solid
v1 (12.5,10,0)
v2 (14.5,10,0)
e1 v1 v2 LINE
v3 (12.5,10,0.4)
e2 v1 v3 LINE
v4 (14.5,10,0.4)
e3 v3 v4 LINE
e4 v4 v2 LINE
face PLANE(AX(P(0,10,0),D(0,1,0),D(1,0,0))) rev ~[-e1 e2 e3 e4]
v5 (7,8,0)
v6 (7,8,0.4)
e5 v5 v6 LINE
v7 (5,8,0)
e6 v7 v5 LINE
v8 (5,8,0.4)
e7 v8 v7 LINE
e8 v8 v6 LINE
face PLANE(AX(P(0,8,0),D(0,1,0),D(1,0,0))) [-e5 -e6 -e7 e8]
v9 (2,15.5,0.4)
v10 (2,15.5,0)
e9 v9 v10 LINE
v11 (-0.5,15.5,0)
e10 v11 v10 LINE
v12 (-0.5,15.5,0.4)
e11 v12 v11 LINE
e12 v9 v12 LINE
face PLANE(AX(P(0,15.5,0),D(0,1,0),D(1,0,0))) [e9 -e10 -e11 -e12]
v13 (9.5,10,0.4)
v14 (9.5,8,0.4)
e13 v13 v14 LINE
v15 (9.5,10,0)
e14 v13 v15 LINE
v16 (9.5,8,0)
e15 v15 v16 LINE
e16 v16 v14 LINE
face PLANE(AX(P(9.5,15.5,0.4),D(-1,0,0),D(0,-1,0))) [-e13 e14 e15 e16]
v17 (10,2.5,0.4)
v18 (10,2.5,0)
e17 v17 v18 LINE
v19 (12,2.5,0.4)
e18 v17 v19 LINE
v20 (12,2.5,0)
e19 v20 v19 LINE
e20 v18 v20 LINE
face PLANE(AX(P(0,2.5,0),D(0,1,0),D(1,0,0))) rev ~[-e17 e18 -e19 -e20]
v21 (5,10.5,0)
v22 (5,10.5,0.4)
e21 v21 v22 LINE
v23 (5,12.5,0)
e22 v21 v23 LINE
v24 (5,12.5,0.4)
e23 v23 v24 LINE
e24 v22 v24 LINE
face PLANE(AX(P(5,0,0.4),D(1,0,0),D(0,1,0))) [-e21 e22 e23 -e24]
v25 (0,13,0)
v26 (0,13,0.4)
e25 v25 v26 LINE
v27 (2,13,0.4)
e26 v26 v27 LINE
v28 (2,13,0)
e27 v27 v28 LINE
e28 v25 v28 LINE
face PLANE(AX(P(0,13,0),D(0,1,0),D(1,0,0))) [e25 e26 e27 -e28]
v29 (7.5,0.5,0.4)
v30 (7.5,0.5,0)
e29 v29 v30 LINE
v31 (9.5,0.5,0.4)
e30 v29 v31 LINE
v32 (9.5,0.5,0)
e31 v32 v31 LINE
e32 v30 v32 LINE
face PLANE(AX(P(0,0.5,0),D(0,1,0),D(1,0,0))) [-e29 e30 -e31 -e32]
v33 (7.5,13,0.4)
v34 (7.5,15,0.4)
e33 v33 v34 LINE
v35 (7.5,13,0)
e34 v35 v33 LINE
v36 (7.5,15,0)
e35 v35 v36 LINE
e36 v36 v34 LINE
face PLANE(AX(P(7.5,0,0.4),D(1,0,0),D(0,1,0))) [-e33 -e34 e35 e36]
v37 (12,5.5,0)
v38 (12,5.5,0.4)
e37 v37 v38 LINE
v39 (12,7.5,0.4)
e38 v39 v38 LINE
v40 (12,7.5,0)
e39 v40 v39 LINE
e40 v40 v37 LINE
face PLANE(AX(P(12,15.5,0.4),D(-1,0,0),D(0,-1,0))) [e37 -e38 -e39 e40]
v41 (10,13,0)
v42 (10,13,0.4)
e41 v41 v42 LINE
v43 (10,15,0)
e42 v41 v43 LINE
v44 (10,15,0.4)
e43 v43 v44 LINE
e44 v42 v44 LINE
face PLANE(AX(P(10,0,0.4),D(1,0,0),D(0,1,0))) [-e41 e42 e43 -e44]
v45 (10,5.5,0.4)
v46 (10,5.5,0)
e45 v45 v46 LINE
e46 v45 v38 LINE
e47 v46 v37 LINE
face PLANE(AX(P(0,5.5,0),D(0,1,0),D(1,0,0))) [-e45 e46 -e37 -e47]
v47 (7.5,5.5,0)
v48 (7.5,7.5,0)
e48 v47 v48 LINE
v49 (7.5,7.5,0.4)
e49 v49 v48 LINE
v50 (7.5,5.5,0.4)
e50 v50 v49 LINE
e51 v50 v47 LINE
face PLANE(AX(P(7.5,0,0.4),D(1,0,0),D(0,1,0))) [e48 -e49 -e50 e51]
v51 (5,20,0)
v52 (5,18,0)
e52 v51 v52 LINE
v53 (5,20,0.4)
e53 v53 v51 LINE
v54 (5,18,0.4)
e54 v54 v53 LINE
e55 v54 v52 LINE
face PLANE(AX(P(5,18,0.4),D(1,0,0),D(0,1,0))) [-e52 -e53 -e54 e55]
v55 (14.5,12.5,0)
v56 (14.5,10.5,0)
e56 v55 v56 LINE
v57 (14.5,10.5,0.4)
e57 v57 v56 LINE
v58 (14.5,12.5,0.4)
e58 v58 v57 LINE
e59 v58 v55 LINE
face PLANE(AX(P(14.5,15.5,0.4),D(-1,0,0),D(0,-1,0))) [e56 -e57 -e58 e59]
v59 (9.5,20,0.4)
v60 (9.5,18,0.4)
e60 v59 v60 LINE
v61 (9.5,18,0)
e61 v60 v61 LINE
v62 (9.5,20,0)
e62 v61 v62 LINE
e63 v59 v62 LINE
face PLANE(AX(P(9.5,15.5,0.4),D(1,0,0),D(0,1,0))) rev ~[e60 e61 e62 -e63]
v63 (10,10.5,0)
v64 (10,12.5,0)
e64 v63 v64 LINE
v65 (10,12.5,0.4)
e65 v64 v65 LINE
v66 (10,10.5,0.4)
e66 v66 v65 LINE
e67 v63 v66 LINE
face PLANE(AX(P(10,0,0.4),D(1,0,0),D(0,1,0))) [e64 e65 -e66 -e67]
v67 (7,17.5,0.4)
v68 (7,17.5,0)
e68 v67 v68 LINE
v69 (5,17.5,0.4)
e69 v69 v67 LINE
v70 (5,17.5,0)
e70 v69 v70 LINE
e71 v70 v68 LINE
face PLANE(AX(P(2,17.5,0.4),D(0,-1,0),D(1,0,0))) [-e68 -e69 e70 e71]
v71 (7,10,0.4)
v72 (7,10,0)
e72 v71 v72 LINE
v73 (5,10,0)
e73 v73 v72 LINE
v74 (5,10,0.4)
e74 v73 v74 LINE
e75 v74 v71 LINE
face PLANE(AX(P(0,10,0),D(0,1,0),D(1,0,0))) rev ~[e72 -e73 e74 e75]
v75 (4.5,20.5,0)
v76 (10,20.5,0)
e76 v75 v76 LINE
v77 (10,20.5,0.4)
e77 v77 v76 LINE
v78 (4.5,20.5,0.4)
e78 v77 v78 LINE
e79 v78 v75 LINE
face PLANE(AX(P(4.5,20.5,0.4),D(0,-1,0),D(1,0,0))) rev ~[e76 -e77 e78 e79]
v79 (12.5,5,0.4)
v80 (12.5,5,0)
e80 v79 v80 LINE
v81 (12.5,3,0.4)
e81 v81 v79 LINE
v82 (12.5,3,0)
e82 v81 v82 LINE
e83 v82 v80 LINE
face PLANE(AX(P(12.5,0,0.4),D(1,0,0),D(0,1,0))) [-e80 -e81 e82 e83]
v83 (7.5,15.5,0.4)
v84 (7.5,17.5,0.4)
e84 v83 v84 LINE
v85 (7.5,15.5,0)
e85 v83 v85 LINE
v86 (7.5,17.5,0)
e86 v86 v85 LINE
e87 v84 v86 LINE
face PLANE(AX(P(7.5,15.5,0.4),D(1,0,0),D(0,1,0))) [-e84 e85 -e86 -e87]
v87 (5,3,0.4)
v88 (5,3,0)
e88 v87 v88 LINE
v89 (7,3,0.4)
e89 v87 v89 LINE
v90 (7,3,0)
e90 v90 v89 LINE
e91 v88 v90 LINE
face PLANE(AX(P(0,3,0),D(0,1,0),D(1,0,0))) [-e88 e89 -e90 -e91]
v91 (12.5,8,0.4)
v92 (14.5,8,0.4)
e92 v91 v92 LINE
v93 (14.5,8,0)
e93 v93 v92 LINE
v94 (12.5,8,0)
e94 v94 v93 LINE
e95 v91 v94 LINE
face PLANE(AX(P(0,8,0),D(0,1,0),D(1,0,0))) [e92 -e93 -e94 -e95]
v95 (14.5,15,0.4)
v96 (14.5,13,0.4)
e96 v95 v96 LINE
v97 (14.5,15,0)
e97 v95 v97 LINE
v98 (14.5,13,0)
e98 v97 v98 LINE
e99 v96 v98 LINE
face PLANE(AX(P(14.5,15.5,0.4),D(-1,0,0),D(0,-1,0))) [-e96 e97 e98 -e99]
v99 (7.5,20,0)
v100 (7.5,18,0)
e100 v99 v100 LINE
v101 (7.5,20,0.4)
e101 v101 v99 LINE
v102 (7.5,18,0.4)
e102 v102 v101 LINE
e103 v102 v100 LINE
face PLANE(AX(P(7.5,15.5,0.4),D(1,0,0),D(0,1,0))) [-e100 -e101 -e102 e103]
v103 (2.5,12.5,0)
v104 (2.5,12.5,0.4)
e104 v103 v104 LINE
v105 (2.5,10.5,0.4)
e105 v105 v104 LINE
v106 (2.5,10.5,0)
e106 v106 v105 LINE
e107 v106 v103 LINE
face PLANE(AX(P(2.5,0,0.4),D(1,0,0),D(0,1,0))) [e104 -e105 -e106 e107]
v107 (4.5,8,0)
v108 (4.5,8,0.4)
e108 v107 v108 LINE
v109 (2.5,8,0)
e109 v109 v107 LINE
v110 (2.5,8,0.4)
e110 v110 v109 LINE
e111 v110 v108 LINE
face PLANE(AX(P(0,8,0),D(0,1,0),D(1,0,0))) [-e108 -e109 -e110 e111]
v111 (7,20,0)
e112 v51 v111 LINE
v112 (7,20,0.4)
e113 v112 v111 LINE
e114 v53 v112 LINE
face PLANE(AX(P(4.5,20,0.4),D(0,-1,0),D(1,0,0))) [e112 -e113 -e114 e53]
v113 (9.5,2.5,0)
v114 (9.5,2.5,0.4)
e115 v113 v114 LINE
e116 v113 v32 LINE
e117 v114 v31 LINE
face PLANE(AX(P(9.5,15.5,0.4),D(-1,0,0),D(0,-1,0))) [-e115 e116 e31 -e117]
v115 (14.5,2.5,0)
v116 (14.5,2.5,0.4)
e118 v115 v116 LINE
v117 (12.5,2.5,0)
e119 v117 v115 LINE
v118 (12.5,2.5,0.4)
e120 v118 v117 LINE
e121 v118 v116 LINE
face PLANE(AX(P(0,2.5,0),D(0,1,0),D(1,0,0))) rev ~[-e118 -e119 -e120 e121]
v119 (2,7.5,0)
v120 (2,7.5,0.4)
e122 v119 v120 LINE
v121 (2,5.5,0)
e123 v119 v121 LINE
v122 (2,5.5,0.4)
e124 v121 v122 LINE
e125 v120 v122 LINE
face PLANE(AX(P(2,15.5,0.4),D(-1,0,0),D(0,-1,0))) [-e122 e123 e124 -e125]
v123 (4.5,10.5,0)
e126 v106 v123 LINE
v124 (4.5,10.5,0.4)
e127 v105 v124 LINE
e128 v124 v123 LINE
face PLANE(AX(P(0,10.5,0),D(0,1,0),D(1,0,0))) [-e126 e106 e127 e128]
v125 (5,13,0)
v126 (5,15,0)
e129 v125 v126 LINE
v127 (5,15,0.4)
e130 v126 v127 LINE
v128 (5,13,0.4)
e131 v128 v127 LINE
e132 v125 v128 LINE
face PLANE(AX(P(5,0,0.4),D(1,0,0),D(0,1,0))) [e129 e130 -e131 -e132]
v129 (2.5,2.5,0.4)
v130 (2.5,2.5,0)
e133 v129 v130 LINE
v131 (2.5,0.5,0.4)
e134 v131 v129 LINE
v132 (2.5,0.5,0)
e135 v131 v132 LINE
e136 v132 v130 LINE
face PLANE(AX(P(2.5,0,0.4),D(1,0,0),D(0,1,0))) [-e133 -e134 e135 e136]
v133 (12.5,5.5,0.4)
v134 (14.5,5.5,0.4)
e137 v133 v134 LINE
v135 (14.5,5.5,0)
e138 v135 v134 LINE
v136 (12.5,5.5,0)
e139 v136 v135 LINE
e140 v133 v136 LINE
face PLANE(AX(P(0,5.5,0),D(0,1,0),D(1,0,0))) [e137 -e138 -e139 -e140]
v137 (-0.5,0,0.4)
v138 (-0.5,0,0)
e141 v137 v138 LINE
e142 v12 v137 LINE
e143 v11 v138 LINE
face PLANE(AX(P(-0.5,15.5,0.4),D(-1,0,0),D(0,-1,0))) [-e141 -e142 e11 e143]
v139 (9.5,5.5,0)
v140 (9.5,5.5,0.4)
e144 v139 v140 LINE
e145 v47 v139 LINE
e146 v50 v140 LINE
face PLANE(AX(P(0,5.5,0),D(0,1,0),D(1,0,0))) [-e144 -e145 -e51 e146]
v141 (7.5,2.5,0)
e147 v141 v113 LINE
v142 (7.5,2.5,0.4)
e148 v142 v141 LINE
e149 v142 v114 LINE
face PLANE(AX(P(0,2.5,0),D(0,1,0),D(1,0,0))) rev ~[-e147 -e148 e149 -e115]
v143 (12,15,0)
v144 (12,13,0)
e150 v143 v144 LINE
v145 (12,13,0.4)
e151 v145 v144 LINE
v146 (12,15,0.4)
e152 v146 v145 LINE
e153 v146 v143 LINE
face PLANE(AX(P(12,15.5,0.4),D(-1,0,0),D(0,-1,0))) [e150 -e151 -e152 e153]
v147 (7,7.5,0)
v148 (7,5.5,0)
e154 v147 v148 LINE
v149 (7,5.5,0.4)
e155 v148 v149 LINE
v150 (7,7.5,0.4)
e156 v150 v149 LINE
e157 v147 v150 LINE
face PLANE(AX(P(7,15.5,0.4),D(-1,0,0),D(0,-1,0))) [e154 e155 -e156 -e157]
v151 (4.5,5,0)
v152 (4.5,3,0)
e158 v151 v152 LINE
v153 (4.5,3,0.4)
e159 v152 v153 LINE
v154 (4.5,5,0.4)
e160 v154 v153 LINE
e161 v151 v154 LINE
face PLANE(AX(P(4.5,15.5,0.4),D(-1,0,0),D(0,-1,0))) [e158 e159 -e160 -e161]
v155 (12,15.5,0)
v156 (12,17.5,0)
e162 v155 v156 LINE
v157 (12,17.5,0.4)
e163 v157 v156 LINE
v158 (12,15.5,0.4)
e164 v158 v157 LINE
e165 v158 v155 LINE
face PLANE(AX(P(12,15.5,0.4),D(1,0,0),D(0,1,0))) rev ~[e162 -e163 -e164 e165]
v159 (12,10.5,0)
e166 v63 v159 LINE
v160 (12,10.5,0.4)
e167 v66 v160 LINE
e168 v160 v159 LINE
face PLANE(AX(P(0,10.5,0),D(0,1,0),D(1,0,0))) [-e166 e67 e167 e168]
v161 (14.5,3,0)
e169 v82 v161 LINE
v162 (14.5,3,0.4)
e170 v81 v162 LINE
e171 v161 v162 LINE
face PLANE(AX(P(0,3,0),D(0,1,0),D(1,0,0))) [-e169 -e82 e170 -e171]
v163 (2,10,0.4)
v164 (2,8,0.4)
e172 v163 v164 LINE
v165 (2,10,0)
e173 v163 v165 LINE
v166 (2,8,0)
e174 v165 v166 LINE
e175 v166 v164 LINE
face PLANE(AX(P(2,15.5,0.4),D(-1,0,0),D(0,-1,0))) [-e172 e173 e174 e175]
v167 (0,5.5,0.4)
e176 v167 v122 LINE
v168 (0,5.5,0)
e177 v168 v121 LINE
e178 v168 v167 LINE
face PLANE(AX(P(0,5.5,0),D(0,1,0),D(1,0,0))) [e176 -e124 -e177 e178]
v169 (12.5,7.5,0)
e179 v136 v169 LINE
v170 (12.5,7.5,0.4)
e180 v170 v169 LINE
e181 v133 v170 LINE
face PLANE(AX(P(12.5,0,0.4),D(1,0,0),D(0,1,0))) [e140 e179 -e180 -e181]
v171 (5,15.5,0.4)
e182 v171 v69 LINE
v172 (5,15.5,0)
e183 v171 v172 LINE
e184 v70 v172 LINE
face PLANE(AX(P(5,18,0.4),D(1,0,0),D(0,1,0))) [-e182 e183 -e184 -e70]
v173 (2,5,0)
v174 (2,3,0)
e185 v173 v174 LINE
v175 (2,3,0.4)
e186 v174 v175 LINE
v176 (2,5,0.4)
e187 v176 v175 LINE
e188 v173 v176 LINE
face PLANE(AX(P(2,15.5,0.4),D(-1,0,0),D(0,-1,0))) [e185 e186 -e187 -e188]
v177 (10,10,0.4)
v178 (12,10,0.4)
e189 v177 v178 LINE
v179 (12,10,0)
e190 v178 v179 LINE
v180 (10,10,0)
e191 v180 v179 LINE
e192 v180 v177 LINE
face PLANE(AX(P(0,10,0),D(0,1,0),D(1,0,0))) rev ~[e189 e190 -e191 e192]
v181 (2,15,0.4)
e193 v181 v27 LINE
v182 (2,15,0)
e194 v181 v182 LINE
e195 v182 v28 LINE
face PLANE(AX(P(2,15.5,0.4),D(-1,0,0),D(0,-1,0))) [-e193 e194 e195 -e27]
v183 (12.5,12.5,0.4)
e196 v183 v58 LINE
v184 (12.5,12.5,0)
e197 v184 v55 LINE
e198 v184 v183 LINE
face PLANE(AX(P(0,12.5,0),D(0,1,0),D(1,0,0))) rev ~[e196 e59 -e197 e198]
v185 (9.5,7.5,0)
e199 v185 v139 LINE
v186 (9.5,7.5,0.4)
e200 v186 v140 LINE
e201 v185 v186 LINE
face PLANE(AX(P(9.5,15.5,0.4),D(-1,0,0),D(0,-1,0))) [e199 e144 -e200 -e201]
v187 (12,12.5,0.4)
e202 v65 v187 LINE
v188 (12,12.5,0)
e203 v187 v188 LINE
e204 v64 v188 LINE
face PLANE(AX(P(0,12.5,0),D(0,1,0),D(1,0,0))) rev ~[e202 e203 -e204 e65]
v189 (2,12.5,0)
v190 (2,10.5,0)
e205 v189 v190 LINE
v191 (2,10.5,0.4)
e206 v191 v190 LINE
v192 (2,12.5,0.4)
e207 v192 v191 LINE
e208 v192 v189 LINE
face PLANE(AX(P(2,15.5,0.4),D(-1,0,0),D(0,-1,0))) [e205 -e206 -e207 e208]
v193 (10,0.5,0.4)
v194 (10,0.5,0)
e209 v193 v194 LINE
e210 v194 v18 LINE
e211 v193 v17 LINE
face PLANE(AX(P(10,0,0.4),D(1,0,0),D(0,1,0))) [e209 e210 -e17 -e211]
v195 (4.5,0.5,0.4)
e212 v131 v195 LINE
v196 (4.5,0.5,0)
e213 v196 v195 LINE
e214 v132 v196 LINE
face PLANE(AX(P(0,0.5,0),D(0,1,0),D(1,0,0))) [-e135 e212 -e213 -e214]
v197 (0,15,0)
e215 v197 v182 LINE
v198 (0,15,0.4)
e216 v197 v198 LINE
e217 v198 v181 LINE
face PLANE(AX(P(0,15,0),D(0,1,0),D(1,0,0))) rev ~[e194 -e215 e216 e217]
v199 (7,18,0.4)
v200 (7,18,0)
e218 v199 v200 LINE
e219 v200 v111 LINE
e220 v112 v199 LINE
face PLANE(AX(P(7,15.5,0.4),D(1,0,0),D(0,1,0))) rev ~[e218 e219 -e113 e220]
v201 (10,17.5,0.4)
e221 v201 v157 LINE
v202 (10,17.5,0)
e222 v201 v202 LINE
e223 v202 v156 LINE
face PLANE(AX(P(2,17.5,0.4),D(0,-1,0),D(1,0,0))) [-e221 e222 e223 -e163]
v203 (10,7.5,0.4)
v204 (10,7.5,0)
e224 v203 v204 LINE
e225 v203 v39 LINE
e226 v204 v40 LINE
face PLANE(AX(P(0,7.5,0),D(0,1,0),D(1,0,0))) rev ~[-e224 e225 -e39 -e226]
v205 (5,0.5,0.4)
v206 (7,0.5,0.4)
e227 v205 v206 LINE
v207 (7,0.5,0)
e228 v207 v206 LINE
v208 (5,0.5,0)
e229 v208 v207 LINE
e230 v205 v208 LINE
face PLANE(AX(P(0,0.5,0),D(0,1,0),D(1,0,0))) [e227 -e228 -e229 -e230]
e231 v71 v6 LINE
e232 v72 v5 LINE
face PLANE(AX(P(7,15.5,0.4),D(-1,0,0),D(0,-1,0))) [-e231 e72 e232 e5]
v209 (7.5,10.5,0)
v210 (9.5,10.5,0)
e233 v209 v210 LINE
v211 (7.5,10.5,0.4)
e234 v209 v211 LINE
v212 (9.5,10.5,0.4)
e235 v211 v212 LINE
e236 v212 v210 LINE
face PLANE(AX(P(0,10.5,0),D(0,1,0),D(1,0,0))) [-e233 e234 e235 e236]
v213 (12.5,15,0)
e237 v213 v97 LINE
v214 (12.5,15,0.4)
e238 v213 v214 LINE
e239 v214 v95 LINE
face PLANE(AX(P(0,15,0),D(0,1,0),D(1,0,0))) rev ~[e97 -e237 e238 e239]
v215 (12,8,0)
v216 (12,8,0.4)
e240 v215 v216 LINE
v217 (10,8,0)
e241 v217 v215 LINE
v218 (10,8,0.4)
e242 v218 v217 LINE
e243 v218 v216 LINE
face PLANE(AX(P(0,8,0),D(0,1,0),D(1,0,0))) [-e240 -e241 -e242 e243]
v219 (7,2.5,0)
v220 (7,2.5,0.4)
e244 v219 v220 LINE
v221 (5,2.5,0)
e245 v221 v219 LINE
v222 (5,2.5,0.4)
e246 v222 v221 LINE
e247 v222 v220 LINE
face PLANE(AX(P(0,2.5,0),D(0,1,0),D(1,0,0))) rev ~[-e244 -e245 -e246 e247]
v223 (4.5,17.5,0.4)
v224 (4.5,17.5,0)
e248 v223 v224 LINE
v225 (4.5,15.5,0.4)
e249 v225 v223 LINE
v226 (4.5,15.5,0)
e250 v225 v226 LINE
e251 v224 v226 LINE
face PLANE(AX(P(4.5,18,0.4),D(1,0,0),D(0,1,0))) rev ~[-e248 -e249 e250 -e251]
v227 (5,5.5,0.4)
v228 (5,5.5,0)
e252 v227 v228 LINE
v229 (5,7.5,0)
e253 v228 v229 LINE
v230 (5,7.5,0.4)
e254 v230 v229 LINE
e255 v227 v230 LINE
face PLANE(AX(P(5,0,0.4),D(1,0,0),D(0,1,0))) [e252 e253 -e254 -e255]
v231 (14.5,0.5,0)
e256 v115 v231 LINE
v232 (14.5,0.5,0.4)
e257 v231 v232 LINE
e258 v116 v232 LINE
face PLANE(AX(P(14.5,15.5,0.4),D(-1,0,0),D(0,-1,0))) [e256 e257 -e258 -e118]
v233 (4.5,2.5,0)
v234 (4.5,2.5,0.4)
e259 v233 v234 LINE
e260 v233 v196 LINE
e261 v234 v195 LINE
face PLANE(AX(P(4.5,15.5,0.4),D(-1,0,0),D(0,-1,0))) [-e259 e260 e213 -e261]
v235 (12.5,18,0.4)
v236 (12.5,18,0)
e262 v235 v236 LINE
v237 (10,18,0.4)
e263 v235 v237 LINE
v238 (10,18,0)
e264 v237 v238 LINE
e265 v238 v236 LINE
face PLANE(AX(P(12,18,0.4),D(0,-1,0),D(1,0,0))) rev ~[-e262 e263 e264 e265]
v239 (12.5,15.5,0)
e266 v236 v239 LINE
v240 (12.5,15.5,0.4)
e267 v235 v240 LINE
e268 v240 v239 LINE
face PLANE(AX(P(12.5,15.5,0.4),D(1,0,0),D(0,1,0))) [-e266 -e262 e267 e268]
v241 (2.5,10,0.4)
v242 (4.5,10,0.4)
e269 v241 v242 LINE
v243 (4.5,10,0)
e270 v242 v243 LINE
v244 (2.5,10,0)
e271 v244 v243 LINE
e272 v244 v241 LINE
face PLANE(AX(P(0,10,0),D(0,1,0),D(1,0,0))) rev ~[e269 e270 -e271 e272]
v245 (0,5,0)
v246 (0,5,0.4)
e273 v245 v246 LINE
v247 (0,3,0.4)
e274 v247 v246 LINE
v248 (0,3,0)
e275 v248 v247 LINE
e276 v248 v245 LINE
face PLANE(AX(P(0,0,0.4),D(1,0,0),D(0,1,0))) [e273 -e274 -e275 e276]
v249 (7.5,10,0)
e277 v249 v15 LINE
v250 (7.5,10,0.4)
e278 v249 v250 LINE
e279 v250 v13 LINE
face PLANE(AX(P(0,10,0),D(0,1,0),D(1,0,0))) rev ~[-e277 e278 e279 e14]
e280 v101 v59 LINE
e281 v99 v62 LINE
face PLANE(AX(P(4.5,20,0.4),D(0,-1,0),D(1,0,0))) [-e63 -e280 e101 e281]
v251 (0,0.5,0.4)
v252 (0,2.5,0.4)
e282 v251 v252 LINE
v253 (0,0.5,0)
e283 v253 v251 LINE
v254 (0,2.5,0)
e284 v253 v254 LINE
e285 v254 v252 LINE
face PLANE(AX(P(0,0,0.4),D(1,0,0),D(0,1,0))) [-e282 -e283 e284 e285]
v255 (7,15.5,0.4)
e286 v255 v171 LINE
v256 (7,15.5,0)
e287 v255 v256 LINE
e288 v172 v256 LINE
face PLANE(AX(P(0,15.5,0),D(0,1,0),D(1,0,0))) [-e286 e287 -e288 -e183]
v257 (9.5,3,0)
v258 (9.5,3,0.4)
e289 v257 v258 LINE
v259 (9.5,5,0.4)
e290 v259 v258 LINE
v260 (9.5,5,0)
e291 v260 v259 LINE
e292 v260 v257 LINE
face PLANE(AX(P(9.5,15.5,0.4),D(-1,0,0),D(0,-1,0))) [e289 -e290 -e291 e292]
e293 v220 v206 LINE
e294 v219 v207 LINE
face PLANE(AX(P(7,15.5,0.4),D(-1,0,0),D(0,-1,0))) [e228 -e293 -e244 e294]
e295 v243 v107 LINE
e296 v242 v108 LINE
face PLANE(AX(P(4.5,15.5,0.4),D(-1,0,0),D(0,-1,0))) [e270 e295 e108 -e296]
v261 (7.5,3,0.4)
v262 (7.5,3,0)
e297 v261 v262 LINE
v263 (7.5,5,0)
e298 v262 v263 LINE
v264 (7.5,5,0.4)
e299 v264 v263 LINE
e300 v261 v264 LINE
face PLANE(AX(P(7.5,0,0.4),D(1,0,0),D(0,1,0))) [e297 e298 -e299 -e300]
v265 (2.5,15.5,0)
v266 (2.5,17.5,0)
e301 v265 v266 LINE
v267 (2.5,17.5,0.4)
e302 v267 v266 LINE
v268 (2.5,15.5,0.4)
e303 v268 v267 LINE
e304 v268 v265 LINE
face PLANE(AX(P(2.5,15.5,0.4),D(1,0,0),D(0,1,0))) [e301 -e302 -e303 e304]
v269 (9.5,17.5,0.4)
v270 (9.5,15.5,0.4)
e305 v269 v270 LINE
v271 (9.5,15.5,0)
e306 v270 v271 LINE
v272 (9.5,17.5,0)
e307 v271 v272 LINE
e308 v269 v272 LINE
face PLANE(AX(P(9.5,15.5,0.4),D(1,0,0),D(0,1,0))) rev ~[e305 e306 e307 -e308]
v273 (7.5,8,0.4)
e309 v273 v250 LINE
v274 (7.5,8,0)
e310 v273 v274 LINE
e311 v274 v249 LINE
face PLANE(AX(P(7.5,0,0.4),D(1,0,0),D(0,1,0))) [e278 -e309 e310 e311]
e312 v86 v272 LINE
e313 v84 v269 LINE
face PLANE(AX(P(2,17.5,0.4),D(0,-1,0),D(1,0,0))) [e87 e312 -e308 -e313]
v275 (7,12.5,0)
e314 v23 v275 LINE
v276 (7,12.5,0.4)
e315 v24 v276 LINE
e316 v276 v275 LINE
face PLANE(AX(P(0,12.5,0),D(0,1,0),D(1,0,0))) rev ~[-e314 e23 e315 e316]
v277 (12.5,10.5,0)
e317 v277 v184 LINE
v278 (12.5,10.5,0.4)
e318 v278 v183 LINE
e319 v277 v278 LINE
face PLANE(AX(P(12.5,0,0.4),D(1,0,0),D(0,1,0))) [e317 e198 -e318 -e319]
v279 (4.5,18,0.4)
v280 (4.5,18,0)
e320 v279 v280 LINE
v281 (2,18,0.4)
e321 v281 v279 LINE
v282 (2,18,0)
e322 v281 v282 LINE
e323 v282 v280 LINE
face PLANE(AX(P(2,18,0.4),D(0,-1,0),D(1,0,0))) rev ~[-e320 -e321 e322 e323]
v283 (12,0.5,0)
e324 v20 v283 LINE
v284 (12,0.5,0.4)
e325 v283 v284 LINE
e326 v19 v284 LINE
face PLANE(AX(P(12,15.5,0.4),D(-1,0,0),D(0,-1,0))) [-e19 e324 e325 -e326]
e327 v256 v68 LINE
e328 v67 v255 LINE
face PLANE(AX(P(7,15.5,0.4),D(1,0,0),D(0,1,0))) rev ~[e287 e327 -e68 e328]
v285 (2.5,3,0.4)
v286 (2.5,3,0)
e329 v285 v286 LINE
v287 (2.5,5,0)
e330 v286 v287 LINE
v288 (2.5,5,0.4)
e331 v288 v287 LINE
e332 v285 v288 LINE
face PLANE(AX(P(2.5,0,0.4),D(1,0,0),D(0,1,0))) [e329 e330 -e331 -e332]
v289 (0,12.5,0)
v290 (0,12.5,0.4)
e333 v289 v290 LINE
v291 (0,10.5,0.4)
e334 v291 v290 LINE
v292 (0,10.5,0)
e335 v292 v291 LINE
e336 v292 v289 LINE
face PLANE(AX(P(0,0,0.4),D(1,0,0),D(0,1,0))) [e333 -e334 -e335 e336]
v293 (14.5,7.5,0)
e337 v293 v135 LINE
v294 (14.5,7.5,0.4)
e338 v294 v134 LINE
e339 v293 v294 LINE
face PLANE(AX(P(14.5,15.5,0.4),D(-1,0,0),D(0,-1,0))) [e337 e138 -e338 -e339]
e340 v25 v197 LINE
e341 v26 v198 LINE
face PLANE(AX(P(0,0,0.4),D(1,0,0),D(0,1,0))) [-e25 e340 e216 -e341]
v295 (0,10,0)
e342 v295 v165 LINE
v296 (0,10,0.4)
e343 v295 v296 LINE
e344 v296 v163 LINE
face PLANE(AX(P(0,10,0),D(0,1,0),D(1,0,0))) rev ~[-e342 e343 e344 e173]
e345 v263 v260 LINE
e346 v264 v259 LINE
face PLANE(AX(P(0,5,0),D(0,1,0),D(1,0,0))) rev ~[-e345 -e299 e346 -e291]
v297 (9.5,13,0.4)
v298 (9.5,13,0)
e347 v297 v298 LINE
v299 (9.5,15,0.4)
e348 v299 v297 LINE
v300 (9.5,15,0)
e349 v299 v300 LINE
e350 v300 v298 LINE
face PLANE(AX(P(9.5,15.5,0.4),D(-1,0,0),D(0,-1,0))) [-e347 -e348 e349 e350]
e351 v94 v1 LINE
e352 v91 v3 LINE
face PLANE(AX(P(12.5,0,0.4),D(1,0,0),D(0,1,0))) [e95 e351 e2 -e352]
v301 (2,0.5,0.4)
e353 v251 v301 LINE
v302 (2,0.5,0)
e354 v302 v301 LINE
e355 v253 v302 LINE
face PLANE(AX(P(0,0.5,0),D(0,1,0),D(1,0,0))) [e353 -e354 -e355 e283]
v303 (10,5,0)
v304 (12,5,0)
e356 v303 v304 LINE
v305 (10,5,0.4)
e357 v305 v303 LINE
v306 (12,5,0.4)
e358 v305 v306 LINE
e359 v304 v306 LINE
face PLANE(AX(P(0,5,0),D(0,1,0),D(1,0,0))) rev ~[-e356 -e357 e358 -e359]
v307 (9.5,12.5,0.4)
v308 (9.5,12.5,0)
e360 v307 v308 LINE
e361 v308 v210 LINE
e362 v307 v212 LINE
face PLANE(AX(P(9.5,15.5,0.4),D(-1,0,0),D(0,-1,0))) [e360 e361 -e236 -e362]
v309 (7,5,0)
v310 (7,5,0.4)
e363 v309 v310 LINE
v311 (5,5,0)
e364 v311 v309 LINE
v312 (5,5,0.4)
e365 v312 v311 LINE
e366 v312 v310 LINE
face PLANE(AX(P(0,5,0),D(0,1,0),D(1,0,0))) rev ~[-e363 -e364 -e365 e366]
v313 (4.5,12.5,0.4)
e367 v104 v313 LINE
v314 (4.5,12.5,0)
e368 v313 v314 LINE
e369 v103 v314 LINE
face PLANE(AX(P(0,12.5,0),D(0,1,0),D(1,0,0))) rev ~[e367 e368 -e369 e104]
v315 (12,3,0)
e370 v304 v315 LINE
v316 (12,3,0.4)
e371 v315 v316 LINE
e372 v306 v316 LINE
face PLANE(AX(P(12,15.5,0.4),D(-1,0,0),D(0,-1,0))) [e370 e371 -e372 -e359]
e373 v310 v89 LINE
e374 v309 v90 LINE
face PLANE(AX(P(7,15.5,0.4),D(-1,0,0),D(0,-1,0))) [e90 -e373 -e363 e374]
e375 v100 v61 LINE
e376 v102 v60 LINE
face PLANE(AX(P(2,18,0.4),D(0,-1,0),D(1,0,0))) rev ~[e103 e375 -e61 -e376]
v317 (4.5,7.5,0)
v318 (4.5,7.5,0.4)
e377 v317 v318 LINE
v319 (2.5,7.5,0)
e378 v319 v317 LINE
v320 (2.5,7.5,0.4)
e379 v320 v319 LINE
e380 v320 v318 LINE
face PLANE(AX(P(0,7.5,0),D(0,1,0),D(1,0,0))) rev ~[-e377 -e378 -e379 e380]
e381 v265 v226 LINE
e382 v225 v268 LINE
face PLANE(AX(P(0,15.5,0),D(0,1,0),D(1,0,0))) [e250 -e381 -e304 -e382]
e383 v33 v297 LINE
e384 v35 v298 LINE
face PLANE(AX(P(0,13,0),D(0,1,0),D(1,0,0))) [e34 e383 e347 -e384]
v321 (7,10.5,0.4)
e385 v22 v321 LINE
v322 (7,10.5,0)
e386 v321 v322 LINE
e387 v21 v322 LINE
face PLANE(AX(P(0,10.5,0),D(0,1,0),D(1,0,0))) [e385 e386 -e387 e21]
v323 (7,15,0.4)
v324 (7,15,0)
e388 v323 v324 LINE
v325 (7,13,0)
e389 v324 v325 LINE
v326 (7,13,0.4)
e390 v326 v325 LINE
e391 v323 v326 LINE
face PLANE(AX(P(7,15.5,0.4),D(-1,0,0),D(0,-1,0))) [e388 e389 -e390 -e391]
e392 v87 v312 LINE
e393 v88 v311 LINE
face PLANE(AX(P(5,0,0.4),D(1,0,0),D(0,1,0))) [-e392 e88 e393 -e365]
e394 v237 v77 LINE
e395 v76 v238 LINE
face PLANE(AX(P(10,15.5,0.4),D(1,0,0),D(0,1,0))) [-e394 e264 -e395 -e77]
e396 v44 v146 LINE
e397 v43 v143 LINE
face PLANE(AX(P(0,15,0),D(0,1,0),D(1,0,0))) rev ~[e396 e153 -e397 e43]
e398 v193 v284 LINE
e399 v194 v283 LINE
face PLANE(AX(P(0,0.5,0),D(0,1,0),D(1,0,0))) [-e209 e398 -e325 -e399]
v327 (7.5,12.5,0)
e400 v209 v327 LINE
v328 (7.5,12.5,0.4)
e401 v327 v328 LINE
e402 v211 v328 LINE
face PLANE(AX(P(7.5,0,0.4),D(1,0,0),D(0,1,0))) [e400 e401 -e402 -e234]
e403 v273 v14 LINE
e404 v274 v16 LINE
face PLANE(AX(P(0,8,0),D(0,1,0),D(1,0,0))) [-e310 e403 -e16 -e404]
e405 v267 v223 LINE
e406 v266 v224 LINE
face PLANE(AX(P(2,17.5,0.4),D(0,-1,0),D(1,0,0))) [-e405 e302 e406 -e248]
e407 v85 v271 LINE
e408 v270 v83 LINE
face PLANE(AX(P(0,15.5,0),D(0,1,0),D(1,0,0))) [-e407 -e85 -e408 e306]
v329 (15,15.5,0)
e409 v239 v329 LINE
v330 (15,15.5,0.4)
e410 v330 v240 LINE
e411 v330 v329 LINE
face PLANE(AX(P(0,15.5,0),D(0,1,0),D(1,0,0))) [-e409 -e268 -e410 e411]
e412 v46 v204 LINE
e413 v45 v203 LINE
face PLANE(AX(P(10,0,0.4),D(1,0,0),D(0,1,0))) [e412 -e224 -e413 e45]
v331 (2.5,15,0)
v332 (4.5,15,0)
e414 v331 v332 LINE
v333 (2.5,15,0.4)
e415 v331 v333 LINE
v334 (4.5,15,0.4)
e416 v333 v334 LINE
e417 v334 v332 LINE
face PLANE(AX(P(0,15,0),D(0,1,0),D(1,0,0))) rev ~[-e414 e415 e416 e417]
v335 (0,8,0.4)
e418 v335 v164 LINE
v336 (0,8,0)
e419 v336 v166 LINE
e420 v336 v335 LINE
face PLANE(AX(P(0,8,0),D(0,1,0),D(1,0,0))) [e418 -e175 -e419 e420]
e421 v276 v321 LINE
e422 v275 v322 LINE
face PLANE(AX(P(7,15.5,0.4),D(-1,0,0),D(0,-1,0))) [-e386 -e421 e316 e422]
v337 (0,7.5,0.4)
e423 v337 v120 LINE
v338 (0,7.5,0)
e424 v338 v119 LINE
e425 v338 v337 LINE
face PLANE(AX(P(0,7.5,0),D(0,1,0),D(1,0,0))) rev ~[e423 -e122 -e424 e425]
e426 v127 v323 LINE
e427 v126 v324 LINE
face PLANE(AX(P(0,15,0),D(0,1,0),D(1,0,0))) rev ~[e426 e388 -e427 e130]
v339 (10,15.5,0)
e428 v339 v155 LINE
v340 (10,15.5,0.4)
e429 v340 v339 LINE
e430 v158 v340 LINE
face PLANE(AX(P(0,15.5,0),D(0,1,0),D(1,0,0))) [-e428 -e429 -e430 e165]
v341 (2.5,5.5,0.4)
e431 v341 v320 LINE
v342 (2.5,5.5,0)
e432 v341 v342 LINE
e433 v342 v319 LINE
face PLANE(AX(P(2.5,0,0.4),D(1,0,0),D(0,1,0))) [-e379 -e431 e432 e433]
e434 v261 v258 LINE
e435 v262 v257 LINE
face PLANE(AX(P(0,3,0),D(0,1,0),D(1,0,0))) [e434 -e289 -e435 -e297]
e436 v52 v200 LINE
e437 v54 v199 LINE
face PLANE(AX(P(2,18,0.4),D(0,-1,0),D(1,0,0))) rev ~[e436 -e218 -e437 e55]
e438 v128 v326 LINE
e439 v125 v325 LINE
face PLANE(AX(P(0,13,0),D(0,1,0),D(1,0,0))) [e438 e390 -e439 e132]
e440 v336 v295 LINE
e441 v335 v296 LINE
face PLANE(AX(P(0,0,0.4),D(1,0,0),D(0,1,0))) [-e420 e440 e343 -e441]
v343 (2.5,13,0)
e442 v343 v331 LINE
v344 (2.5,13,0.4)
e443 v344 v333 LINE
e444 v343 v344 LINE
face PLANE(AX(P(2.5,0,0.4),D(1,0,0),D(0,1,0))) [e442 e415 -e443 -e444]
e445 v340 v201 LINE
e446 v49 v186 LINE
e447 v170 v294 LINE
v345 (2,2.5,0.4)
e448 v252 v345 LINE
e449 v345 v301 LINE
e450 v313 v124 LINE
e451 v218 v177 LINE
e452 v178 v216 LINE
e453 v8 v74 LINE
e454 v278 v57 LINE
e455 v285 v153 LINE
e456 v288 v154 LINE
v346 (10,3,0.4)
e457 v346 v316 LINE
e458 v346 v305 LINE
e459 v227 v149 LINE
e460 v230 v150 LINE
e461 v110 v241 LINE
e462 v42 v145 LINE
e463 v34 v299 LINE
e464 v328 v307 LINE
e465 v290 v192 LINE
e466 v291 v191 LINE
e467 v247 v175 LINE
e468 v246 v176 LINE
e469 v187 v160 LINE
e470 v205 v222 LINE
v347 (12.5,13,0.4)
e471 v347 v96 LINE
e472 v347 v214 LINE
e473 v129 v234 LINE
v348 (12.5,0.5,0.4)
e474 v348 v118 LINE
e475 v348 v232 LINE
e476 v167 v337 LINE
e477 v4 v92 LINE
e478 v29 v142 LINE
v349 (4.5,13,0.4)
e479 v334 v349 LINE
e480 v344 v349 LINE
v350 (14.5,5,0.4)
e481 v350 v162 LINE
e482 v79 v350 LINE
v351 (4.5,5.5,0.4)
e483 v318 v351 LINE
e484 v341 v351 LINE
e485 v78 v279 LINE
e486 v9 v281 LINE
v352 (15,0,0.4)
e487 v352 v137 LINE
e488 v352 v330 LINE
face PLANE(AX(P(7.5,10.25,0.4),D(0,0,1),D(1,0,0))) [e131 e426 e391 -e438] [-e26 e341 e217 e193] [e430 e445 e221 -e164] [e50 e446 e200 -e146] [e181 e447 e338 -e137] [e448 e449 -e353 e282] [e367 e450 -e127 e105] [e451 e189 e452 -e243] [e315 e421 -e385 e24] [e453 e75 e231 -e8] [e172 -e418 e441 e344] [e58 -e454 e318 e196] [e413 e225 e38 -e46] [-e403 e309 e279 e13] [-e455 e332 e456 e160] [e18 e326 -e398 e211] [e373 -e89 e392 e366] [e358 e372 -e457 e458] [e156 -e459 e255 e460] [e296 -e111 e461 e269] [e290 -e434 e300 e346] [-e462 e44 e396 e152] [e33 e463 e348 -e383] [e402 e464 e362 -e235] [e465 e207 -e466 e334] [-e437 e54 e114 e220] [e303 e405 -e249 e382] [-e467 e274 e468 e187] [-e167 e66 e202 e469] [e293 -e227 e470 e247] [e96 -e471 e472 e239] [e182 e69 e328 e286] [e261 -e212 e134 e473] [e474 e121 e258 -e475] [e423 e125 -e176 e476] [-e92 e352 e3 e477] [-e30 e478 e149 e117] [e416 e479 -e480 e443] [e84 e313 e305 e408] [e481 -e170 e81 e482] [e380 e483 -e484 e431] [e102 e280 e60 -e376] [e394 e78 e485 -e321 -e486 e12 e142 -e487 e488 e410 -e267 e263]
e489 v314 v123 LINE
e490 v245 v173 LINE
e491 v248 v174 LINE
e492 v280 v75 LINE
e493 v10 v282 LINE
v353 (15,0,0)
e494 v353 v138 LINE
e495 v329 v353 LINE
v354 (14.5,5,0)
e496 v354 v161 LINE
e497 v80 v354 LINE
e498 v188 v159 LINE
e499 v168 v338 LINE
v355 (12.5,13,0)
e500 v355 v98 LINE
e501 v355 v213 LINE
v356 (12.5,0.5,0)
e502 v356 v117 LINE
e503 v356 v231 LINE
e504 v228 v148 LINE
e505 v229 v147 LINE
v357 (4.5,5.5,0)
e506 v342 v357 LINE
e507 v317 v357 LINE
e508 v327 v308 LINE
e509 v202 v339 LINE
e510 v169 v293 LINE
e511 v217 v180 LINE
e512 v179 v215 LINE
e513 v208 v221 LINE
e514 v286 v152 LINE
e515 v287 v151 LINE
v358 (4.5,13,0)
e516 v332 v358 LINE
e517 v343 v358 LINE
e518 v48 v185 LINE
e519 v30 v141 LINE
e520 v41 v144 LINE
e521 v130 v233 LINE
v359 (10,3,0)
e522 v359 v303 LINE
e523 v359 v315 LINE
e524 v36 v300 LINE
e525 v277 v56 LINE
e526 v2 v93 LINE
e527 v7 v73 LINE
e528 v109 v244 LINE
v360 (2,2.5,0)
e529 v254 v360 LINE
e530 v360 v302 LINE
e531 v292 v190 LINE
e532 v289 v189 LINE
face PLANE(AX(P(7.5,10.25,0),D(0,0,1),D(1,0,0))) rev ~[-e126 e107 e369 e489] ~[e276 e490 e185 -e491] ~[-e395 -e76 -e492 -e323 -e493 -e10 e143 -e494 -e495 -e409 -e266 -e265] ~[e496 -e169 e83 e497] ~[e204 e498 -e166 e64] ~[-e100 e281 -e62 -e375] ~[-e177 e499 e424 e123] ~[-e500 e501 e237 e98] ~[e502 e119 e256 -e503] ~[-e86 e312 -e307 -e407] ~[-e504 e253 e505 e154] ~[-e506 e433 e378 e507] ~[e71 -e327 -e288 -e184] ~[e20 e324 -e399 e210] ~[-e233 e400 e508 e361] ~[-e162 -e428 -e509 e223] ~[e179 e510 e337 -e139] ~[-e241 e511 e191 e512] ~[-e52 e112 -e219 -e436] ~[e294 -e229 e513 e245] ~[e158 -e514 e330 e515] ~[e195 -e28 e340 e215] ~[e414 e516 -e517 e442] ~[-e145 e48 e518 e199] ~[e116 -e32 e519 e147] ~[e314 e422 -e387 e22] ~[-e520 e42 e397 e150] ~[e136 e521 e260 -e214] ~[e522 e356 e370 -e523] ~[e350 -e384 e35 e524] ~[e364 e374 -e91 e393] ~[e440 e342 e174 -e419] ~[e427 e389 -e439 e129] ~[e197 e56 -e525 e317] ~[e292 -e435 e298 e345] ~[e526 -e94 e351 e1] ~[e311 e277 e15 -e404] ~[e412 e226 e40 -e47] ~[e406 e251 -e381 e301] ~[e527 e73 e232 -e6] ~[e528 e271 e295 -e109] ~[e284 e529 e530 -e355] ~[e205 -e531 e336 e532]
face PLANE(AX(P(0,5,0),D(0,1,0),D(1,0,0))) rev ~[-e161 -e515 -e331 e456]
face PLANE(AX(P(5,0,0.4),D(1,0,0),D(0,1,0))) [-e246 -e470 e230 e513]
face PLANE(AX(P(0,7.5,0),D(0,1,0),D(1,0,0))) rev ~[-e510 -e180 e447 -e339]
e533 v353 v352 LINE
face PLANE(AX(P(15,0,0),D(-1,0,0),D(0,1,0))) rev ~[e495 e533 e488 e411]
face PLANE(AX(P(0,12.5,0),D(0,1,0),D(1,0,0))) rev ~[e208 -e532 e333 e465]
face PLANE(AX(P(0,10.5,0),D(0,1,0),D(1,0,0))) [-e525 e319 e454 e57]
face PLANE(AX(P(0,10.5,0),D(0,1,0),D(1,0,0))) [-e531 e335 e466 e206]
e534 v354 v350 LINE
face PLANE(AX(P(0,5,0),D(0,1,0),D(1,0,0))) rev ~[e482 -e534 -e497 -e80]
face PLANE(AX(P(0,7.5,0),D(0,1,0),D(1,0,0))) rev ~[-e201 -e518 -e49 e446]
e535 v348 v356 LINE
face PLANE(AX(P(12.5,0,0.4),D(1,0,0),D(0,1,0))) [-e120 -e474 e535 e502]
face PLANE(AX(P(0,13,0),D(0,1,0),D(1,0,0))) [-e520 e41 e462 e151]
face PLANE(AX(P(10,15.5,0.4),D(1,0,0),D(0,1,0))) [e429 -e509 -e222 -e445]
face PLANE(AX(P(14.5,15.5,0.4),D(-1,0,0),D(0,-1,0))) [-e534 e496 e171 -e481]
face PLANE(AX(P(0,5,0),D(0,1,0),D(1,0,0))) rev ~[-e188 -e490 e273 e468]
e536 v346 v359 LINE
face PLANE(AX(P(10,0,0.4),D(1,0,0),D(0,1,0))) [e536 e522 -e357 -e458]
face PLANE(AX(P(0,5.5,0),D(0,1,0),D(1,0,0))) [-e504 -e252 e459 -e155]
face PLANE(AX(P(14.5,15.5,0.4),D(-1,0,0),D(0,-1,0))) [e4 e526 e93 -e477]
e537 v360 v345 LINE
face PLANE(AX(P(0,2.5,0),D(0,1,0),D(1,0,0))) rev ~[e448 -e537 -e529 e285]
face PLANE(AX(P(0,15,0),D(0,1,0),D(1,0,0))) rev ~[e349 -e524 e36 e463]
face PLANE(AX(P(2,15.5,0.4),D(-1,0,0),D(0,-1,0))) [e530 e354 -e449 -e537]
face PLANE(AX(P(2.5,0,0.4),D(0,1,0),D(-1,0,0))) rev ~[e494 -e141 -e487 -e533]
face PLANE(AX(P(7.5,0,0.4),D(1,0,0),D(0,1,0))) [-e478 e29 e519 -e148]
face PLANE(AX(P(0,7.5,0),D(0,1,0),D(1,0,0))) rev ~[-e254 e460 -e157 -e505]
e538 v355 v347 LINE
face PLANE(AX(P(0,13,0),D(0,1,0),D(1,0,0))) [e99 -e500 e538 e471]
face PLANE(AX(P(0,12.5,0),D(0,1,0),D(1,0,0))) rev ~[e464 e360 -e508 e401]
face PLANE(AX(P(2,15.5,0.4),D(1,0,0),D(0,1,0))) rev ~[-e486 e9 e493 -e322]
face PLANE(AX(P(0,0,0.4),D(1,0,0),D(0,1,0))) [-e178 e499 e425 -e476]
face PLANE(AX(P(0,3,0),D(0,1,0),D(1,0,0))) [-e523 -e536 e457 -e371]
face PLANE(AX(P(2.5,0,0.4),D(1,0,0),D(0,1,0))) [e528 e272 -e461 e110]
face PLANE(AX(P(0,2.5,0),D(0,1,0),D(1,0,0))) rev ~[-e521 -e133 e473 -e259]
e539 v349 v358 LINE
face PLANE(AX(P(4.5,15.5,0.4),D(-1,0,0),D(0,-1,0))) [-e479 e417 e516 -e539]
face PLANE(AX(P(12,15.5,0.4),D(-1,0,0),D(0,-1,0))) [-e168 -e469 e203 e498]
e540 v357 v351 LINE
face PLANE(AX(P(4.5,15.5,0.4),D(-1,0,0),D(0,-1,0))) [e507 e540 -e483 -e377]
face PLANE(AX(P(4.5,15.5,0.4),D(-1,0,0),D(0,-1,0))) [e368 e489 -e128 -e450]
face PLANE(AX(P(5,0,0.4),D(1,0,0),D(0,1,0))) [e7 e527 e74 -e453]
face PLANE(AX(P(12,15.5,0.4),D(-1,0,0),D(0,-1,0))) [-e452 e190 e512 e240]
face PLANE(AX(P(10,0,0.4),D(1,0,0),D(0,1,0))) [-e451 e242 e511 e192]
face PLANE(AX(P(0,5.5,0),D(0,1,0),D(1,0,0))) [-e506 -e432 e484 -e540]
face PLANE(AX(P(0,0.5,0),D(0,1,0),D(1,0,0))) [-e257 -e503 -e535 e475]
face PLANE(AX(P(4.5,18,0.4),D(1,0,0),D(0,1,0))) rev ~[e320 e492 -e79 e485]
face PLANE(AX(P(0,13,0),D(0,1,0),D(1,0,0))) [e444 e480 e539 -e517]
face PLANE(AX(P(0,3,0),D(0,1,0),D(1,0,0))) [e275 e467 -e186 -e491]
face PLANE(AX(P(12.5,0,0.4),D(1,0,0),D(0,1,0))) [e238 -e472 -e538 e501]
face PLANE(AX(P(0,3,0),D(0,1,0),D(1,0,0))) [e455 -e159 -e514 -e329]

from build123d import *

# Parameters (mm, degrees)
SKETCH_1_W             = 15
SKETCH_1_H             = 0.5
EXTRUDE_1_DEPTH        = 0.4
PATTERN_LINEAR_1_COUNT = 7
PATTERN_LINEAR_1_PITCH = 2.5
EXTRUDE_3_DEPTH        = 0.4
PATTERN_LINEAR_2_COUNT = 7
PATTERN_LINEAR_2_PITCH = 2.5
SKETCH_4_W             = 0.5
SKETCH_4_H             = 2.5
EXTRUDE_4_DEPTH        = 0.4
SKETCH_6_W             = 0.5
SKETCH_6_H             = 2.5
EXTRUDE_6_DEPTH        = 0.4
SKETCH_7_W             = 10.5
SKETCH_7_H             = 0.5
SKETCH_7_W_2           = 5.5
EXTRUDE_7_DEPTH        = 0.4


with BuildPart() as part:
    # Sketch 1 → Extrude 1 (new body)
    with BuildSketch(Plane.XY):
        with Locations((7.5, 0.25)):
            Rectangle(SKETCH_1_W, SKETCH_1_H)
    extrude(amount=EXTRUDE_1_DEPTH)


with BuildPart() as pattern_linear_1_1:
    # Pattern Linear 1: pattern copy
    add(part.part.moved(Location(Vector(0, 1, 0) * (1 * PATTERN_LINEAR_1_PITCH))))


with BuildPart() as pattern_linear_1_2:
    # Pattern Linear 1: pattern copy
    add(part.part.moved(Location(Vector(0, 1, 0) * (2 * PATTERN_LINEAR_1_PITCH))))


with BuildPart() as pattern_linear_1_3:
    # Pattern Linear 1: pattern copy
    add(part.part.moved(Location(Vector(0, 1, 0) * (3 * PATTERN_LINEAR_1_PITCH))))


with BuildPart() as pattern_linear_1_4:
    # Pattern Linear 1: pattern copy
    add(part.part.moved(Location(Vector(0, 1, 0) * (4 * PATTERN_LINEAR_1_PITCH))))


with BuildPart() as pattern_linear_1_5:
    # Pattern Linear 1: pattern copy
    add(part.part.moved(Location(Vector(0, 1, 0) * (5 * PATTERN_LINEAR_1_PITCH))))


with BuildPart() as pattern_linear_1_6:
    # Pattern Linear 1: pattern copy
    add(part.part.moved(Location(Vector(0, 1, 0) * (6 * PATTERN_LINEAR_1_PITCH))))


with BuildPart() as part_1:
    add(part.part)

    add(pattern_linear_1_1.part)  # Extrude 3 merges Pattern Linear 1_1

    add(pattern_linear_1_2.part)  # Extrude 3 merges Pattern Linear 1_2

    add(pattern_linear_1_3.part)  # Extrude 3 merges Pattern Linear 1_3
    # Sketch 3 → Extrude 3 (add)
    with BuildSketch(Plane.XY.offset(0.4)):
        Polygon((0, 15.5), (0, 8), (0, 0), (-0.5, 0), (-0.5, 10.98507125), (-0.5, 15.5), align=None)
    extrude_3 = extrude(amount=-EXTRUDE_3_DEPTH)

    # Pattern Linear 2: Extrude 3 ×7
    with Locations(*[(i * PATTERN_LINEAR_2_PITCH, 0, 0) for i in range(1, PATTERN_LINEAR_2_COUNT)]):
        add(extrude_3)

    add(pattern_linear_1_6.part)  # Extrude 4 merges Pattern Linear 1_6
    # Sketch 4 → Extrude 4 (add)
    with BuildSketch(Plane.XY.offset(0.4)):
        with Locations((4.75, 16.75)):
            Rectangle(SKETCH_4_W, SKETCH_4_H)
        with Locations((2.25, 16.75)):
            Rectangle(SKETCH_4_W, SKETCH_4_H)
        with Locations((7.25, 16.75)):
            Rectangle(SKETCH_4_W, SKETCH_4_H)
        with Locations((9.75, 16.75)):
            Rectangle(SKETCH_4_W, SKETCH_4_H)
        with Locations((12.25, 16.75)):
            Rectangle(SKETCH_4_W, SKETCH_4_H)
    extrude(amount=-EXTRUDE_4_DEPTH)

    # Sketch 6 → Extrude 6 (add)
    with BuildSketch(Plane.XY.offset(0.4)):
        with Locations((4.75, 19.25)):
            Rectangle(SKETCH_6_W, SKETCH_6_H)
        with Locations((9.75, 19.25)):
            Rectangle(SKETCH_6_W, SKETCH_6_H)
        with Locations((7.25, 19.25)):
            Rectangle(SKETCH_6_W, SKETCH_6_H)
    extrude(amount=-EXTRUDE_6_DEPTH)

    # Sketch 7 → Extrude 7 (add)
    with BuildSketch(Plane.XY.offset(0.4)):
        with Locations((7.25, 17.75)):
            Rectangle(SKETCH_7_W, SKETCH_7_H)
        with Locations((7.25, 20.25)):
            Rectangle(SKETCH_7_W_2, SKETCH_7_H)
    extrude(amount=-EXTRUDE_7_DEPTH)

    # Combine 1: union Pattern Linear 1_5, Pattern Linear 1_4
    add(pattern_linear_1_5.part)
    add(pattern_linear_1_4.part)


solid = part_1.part
